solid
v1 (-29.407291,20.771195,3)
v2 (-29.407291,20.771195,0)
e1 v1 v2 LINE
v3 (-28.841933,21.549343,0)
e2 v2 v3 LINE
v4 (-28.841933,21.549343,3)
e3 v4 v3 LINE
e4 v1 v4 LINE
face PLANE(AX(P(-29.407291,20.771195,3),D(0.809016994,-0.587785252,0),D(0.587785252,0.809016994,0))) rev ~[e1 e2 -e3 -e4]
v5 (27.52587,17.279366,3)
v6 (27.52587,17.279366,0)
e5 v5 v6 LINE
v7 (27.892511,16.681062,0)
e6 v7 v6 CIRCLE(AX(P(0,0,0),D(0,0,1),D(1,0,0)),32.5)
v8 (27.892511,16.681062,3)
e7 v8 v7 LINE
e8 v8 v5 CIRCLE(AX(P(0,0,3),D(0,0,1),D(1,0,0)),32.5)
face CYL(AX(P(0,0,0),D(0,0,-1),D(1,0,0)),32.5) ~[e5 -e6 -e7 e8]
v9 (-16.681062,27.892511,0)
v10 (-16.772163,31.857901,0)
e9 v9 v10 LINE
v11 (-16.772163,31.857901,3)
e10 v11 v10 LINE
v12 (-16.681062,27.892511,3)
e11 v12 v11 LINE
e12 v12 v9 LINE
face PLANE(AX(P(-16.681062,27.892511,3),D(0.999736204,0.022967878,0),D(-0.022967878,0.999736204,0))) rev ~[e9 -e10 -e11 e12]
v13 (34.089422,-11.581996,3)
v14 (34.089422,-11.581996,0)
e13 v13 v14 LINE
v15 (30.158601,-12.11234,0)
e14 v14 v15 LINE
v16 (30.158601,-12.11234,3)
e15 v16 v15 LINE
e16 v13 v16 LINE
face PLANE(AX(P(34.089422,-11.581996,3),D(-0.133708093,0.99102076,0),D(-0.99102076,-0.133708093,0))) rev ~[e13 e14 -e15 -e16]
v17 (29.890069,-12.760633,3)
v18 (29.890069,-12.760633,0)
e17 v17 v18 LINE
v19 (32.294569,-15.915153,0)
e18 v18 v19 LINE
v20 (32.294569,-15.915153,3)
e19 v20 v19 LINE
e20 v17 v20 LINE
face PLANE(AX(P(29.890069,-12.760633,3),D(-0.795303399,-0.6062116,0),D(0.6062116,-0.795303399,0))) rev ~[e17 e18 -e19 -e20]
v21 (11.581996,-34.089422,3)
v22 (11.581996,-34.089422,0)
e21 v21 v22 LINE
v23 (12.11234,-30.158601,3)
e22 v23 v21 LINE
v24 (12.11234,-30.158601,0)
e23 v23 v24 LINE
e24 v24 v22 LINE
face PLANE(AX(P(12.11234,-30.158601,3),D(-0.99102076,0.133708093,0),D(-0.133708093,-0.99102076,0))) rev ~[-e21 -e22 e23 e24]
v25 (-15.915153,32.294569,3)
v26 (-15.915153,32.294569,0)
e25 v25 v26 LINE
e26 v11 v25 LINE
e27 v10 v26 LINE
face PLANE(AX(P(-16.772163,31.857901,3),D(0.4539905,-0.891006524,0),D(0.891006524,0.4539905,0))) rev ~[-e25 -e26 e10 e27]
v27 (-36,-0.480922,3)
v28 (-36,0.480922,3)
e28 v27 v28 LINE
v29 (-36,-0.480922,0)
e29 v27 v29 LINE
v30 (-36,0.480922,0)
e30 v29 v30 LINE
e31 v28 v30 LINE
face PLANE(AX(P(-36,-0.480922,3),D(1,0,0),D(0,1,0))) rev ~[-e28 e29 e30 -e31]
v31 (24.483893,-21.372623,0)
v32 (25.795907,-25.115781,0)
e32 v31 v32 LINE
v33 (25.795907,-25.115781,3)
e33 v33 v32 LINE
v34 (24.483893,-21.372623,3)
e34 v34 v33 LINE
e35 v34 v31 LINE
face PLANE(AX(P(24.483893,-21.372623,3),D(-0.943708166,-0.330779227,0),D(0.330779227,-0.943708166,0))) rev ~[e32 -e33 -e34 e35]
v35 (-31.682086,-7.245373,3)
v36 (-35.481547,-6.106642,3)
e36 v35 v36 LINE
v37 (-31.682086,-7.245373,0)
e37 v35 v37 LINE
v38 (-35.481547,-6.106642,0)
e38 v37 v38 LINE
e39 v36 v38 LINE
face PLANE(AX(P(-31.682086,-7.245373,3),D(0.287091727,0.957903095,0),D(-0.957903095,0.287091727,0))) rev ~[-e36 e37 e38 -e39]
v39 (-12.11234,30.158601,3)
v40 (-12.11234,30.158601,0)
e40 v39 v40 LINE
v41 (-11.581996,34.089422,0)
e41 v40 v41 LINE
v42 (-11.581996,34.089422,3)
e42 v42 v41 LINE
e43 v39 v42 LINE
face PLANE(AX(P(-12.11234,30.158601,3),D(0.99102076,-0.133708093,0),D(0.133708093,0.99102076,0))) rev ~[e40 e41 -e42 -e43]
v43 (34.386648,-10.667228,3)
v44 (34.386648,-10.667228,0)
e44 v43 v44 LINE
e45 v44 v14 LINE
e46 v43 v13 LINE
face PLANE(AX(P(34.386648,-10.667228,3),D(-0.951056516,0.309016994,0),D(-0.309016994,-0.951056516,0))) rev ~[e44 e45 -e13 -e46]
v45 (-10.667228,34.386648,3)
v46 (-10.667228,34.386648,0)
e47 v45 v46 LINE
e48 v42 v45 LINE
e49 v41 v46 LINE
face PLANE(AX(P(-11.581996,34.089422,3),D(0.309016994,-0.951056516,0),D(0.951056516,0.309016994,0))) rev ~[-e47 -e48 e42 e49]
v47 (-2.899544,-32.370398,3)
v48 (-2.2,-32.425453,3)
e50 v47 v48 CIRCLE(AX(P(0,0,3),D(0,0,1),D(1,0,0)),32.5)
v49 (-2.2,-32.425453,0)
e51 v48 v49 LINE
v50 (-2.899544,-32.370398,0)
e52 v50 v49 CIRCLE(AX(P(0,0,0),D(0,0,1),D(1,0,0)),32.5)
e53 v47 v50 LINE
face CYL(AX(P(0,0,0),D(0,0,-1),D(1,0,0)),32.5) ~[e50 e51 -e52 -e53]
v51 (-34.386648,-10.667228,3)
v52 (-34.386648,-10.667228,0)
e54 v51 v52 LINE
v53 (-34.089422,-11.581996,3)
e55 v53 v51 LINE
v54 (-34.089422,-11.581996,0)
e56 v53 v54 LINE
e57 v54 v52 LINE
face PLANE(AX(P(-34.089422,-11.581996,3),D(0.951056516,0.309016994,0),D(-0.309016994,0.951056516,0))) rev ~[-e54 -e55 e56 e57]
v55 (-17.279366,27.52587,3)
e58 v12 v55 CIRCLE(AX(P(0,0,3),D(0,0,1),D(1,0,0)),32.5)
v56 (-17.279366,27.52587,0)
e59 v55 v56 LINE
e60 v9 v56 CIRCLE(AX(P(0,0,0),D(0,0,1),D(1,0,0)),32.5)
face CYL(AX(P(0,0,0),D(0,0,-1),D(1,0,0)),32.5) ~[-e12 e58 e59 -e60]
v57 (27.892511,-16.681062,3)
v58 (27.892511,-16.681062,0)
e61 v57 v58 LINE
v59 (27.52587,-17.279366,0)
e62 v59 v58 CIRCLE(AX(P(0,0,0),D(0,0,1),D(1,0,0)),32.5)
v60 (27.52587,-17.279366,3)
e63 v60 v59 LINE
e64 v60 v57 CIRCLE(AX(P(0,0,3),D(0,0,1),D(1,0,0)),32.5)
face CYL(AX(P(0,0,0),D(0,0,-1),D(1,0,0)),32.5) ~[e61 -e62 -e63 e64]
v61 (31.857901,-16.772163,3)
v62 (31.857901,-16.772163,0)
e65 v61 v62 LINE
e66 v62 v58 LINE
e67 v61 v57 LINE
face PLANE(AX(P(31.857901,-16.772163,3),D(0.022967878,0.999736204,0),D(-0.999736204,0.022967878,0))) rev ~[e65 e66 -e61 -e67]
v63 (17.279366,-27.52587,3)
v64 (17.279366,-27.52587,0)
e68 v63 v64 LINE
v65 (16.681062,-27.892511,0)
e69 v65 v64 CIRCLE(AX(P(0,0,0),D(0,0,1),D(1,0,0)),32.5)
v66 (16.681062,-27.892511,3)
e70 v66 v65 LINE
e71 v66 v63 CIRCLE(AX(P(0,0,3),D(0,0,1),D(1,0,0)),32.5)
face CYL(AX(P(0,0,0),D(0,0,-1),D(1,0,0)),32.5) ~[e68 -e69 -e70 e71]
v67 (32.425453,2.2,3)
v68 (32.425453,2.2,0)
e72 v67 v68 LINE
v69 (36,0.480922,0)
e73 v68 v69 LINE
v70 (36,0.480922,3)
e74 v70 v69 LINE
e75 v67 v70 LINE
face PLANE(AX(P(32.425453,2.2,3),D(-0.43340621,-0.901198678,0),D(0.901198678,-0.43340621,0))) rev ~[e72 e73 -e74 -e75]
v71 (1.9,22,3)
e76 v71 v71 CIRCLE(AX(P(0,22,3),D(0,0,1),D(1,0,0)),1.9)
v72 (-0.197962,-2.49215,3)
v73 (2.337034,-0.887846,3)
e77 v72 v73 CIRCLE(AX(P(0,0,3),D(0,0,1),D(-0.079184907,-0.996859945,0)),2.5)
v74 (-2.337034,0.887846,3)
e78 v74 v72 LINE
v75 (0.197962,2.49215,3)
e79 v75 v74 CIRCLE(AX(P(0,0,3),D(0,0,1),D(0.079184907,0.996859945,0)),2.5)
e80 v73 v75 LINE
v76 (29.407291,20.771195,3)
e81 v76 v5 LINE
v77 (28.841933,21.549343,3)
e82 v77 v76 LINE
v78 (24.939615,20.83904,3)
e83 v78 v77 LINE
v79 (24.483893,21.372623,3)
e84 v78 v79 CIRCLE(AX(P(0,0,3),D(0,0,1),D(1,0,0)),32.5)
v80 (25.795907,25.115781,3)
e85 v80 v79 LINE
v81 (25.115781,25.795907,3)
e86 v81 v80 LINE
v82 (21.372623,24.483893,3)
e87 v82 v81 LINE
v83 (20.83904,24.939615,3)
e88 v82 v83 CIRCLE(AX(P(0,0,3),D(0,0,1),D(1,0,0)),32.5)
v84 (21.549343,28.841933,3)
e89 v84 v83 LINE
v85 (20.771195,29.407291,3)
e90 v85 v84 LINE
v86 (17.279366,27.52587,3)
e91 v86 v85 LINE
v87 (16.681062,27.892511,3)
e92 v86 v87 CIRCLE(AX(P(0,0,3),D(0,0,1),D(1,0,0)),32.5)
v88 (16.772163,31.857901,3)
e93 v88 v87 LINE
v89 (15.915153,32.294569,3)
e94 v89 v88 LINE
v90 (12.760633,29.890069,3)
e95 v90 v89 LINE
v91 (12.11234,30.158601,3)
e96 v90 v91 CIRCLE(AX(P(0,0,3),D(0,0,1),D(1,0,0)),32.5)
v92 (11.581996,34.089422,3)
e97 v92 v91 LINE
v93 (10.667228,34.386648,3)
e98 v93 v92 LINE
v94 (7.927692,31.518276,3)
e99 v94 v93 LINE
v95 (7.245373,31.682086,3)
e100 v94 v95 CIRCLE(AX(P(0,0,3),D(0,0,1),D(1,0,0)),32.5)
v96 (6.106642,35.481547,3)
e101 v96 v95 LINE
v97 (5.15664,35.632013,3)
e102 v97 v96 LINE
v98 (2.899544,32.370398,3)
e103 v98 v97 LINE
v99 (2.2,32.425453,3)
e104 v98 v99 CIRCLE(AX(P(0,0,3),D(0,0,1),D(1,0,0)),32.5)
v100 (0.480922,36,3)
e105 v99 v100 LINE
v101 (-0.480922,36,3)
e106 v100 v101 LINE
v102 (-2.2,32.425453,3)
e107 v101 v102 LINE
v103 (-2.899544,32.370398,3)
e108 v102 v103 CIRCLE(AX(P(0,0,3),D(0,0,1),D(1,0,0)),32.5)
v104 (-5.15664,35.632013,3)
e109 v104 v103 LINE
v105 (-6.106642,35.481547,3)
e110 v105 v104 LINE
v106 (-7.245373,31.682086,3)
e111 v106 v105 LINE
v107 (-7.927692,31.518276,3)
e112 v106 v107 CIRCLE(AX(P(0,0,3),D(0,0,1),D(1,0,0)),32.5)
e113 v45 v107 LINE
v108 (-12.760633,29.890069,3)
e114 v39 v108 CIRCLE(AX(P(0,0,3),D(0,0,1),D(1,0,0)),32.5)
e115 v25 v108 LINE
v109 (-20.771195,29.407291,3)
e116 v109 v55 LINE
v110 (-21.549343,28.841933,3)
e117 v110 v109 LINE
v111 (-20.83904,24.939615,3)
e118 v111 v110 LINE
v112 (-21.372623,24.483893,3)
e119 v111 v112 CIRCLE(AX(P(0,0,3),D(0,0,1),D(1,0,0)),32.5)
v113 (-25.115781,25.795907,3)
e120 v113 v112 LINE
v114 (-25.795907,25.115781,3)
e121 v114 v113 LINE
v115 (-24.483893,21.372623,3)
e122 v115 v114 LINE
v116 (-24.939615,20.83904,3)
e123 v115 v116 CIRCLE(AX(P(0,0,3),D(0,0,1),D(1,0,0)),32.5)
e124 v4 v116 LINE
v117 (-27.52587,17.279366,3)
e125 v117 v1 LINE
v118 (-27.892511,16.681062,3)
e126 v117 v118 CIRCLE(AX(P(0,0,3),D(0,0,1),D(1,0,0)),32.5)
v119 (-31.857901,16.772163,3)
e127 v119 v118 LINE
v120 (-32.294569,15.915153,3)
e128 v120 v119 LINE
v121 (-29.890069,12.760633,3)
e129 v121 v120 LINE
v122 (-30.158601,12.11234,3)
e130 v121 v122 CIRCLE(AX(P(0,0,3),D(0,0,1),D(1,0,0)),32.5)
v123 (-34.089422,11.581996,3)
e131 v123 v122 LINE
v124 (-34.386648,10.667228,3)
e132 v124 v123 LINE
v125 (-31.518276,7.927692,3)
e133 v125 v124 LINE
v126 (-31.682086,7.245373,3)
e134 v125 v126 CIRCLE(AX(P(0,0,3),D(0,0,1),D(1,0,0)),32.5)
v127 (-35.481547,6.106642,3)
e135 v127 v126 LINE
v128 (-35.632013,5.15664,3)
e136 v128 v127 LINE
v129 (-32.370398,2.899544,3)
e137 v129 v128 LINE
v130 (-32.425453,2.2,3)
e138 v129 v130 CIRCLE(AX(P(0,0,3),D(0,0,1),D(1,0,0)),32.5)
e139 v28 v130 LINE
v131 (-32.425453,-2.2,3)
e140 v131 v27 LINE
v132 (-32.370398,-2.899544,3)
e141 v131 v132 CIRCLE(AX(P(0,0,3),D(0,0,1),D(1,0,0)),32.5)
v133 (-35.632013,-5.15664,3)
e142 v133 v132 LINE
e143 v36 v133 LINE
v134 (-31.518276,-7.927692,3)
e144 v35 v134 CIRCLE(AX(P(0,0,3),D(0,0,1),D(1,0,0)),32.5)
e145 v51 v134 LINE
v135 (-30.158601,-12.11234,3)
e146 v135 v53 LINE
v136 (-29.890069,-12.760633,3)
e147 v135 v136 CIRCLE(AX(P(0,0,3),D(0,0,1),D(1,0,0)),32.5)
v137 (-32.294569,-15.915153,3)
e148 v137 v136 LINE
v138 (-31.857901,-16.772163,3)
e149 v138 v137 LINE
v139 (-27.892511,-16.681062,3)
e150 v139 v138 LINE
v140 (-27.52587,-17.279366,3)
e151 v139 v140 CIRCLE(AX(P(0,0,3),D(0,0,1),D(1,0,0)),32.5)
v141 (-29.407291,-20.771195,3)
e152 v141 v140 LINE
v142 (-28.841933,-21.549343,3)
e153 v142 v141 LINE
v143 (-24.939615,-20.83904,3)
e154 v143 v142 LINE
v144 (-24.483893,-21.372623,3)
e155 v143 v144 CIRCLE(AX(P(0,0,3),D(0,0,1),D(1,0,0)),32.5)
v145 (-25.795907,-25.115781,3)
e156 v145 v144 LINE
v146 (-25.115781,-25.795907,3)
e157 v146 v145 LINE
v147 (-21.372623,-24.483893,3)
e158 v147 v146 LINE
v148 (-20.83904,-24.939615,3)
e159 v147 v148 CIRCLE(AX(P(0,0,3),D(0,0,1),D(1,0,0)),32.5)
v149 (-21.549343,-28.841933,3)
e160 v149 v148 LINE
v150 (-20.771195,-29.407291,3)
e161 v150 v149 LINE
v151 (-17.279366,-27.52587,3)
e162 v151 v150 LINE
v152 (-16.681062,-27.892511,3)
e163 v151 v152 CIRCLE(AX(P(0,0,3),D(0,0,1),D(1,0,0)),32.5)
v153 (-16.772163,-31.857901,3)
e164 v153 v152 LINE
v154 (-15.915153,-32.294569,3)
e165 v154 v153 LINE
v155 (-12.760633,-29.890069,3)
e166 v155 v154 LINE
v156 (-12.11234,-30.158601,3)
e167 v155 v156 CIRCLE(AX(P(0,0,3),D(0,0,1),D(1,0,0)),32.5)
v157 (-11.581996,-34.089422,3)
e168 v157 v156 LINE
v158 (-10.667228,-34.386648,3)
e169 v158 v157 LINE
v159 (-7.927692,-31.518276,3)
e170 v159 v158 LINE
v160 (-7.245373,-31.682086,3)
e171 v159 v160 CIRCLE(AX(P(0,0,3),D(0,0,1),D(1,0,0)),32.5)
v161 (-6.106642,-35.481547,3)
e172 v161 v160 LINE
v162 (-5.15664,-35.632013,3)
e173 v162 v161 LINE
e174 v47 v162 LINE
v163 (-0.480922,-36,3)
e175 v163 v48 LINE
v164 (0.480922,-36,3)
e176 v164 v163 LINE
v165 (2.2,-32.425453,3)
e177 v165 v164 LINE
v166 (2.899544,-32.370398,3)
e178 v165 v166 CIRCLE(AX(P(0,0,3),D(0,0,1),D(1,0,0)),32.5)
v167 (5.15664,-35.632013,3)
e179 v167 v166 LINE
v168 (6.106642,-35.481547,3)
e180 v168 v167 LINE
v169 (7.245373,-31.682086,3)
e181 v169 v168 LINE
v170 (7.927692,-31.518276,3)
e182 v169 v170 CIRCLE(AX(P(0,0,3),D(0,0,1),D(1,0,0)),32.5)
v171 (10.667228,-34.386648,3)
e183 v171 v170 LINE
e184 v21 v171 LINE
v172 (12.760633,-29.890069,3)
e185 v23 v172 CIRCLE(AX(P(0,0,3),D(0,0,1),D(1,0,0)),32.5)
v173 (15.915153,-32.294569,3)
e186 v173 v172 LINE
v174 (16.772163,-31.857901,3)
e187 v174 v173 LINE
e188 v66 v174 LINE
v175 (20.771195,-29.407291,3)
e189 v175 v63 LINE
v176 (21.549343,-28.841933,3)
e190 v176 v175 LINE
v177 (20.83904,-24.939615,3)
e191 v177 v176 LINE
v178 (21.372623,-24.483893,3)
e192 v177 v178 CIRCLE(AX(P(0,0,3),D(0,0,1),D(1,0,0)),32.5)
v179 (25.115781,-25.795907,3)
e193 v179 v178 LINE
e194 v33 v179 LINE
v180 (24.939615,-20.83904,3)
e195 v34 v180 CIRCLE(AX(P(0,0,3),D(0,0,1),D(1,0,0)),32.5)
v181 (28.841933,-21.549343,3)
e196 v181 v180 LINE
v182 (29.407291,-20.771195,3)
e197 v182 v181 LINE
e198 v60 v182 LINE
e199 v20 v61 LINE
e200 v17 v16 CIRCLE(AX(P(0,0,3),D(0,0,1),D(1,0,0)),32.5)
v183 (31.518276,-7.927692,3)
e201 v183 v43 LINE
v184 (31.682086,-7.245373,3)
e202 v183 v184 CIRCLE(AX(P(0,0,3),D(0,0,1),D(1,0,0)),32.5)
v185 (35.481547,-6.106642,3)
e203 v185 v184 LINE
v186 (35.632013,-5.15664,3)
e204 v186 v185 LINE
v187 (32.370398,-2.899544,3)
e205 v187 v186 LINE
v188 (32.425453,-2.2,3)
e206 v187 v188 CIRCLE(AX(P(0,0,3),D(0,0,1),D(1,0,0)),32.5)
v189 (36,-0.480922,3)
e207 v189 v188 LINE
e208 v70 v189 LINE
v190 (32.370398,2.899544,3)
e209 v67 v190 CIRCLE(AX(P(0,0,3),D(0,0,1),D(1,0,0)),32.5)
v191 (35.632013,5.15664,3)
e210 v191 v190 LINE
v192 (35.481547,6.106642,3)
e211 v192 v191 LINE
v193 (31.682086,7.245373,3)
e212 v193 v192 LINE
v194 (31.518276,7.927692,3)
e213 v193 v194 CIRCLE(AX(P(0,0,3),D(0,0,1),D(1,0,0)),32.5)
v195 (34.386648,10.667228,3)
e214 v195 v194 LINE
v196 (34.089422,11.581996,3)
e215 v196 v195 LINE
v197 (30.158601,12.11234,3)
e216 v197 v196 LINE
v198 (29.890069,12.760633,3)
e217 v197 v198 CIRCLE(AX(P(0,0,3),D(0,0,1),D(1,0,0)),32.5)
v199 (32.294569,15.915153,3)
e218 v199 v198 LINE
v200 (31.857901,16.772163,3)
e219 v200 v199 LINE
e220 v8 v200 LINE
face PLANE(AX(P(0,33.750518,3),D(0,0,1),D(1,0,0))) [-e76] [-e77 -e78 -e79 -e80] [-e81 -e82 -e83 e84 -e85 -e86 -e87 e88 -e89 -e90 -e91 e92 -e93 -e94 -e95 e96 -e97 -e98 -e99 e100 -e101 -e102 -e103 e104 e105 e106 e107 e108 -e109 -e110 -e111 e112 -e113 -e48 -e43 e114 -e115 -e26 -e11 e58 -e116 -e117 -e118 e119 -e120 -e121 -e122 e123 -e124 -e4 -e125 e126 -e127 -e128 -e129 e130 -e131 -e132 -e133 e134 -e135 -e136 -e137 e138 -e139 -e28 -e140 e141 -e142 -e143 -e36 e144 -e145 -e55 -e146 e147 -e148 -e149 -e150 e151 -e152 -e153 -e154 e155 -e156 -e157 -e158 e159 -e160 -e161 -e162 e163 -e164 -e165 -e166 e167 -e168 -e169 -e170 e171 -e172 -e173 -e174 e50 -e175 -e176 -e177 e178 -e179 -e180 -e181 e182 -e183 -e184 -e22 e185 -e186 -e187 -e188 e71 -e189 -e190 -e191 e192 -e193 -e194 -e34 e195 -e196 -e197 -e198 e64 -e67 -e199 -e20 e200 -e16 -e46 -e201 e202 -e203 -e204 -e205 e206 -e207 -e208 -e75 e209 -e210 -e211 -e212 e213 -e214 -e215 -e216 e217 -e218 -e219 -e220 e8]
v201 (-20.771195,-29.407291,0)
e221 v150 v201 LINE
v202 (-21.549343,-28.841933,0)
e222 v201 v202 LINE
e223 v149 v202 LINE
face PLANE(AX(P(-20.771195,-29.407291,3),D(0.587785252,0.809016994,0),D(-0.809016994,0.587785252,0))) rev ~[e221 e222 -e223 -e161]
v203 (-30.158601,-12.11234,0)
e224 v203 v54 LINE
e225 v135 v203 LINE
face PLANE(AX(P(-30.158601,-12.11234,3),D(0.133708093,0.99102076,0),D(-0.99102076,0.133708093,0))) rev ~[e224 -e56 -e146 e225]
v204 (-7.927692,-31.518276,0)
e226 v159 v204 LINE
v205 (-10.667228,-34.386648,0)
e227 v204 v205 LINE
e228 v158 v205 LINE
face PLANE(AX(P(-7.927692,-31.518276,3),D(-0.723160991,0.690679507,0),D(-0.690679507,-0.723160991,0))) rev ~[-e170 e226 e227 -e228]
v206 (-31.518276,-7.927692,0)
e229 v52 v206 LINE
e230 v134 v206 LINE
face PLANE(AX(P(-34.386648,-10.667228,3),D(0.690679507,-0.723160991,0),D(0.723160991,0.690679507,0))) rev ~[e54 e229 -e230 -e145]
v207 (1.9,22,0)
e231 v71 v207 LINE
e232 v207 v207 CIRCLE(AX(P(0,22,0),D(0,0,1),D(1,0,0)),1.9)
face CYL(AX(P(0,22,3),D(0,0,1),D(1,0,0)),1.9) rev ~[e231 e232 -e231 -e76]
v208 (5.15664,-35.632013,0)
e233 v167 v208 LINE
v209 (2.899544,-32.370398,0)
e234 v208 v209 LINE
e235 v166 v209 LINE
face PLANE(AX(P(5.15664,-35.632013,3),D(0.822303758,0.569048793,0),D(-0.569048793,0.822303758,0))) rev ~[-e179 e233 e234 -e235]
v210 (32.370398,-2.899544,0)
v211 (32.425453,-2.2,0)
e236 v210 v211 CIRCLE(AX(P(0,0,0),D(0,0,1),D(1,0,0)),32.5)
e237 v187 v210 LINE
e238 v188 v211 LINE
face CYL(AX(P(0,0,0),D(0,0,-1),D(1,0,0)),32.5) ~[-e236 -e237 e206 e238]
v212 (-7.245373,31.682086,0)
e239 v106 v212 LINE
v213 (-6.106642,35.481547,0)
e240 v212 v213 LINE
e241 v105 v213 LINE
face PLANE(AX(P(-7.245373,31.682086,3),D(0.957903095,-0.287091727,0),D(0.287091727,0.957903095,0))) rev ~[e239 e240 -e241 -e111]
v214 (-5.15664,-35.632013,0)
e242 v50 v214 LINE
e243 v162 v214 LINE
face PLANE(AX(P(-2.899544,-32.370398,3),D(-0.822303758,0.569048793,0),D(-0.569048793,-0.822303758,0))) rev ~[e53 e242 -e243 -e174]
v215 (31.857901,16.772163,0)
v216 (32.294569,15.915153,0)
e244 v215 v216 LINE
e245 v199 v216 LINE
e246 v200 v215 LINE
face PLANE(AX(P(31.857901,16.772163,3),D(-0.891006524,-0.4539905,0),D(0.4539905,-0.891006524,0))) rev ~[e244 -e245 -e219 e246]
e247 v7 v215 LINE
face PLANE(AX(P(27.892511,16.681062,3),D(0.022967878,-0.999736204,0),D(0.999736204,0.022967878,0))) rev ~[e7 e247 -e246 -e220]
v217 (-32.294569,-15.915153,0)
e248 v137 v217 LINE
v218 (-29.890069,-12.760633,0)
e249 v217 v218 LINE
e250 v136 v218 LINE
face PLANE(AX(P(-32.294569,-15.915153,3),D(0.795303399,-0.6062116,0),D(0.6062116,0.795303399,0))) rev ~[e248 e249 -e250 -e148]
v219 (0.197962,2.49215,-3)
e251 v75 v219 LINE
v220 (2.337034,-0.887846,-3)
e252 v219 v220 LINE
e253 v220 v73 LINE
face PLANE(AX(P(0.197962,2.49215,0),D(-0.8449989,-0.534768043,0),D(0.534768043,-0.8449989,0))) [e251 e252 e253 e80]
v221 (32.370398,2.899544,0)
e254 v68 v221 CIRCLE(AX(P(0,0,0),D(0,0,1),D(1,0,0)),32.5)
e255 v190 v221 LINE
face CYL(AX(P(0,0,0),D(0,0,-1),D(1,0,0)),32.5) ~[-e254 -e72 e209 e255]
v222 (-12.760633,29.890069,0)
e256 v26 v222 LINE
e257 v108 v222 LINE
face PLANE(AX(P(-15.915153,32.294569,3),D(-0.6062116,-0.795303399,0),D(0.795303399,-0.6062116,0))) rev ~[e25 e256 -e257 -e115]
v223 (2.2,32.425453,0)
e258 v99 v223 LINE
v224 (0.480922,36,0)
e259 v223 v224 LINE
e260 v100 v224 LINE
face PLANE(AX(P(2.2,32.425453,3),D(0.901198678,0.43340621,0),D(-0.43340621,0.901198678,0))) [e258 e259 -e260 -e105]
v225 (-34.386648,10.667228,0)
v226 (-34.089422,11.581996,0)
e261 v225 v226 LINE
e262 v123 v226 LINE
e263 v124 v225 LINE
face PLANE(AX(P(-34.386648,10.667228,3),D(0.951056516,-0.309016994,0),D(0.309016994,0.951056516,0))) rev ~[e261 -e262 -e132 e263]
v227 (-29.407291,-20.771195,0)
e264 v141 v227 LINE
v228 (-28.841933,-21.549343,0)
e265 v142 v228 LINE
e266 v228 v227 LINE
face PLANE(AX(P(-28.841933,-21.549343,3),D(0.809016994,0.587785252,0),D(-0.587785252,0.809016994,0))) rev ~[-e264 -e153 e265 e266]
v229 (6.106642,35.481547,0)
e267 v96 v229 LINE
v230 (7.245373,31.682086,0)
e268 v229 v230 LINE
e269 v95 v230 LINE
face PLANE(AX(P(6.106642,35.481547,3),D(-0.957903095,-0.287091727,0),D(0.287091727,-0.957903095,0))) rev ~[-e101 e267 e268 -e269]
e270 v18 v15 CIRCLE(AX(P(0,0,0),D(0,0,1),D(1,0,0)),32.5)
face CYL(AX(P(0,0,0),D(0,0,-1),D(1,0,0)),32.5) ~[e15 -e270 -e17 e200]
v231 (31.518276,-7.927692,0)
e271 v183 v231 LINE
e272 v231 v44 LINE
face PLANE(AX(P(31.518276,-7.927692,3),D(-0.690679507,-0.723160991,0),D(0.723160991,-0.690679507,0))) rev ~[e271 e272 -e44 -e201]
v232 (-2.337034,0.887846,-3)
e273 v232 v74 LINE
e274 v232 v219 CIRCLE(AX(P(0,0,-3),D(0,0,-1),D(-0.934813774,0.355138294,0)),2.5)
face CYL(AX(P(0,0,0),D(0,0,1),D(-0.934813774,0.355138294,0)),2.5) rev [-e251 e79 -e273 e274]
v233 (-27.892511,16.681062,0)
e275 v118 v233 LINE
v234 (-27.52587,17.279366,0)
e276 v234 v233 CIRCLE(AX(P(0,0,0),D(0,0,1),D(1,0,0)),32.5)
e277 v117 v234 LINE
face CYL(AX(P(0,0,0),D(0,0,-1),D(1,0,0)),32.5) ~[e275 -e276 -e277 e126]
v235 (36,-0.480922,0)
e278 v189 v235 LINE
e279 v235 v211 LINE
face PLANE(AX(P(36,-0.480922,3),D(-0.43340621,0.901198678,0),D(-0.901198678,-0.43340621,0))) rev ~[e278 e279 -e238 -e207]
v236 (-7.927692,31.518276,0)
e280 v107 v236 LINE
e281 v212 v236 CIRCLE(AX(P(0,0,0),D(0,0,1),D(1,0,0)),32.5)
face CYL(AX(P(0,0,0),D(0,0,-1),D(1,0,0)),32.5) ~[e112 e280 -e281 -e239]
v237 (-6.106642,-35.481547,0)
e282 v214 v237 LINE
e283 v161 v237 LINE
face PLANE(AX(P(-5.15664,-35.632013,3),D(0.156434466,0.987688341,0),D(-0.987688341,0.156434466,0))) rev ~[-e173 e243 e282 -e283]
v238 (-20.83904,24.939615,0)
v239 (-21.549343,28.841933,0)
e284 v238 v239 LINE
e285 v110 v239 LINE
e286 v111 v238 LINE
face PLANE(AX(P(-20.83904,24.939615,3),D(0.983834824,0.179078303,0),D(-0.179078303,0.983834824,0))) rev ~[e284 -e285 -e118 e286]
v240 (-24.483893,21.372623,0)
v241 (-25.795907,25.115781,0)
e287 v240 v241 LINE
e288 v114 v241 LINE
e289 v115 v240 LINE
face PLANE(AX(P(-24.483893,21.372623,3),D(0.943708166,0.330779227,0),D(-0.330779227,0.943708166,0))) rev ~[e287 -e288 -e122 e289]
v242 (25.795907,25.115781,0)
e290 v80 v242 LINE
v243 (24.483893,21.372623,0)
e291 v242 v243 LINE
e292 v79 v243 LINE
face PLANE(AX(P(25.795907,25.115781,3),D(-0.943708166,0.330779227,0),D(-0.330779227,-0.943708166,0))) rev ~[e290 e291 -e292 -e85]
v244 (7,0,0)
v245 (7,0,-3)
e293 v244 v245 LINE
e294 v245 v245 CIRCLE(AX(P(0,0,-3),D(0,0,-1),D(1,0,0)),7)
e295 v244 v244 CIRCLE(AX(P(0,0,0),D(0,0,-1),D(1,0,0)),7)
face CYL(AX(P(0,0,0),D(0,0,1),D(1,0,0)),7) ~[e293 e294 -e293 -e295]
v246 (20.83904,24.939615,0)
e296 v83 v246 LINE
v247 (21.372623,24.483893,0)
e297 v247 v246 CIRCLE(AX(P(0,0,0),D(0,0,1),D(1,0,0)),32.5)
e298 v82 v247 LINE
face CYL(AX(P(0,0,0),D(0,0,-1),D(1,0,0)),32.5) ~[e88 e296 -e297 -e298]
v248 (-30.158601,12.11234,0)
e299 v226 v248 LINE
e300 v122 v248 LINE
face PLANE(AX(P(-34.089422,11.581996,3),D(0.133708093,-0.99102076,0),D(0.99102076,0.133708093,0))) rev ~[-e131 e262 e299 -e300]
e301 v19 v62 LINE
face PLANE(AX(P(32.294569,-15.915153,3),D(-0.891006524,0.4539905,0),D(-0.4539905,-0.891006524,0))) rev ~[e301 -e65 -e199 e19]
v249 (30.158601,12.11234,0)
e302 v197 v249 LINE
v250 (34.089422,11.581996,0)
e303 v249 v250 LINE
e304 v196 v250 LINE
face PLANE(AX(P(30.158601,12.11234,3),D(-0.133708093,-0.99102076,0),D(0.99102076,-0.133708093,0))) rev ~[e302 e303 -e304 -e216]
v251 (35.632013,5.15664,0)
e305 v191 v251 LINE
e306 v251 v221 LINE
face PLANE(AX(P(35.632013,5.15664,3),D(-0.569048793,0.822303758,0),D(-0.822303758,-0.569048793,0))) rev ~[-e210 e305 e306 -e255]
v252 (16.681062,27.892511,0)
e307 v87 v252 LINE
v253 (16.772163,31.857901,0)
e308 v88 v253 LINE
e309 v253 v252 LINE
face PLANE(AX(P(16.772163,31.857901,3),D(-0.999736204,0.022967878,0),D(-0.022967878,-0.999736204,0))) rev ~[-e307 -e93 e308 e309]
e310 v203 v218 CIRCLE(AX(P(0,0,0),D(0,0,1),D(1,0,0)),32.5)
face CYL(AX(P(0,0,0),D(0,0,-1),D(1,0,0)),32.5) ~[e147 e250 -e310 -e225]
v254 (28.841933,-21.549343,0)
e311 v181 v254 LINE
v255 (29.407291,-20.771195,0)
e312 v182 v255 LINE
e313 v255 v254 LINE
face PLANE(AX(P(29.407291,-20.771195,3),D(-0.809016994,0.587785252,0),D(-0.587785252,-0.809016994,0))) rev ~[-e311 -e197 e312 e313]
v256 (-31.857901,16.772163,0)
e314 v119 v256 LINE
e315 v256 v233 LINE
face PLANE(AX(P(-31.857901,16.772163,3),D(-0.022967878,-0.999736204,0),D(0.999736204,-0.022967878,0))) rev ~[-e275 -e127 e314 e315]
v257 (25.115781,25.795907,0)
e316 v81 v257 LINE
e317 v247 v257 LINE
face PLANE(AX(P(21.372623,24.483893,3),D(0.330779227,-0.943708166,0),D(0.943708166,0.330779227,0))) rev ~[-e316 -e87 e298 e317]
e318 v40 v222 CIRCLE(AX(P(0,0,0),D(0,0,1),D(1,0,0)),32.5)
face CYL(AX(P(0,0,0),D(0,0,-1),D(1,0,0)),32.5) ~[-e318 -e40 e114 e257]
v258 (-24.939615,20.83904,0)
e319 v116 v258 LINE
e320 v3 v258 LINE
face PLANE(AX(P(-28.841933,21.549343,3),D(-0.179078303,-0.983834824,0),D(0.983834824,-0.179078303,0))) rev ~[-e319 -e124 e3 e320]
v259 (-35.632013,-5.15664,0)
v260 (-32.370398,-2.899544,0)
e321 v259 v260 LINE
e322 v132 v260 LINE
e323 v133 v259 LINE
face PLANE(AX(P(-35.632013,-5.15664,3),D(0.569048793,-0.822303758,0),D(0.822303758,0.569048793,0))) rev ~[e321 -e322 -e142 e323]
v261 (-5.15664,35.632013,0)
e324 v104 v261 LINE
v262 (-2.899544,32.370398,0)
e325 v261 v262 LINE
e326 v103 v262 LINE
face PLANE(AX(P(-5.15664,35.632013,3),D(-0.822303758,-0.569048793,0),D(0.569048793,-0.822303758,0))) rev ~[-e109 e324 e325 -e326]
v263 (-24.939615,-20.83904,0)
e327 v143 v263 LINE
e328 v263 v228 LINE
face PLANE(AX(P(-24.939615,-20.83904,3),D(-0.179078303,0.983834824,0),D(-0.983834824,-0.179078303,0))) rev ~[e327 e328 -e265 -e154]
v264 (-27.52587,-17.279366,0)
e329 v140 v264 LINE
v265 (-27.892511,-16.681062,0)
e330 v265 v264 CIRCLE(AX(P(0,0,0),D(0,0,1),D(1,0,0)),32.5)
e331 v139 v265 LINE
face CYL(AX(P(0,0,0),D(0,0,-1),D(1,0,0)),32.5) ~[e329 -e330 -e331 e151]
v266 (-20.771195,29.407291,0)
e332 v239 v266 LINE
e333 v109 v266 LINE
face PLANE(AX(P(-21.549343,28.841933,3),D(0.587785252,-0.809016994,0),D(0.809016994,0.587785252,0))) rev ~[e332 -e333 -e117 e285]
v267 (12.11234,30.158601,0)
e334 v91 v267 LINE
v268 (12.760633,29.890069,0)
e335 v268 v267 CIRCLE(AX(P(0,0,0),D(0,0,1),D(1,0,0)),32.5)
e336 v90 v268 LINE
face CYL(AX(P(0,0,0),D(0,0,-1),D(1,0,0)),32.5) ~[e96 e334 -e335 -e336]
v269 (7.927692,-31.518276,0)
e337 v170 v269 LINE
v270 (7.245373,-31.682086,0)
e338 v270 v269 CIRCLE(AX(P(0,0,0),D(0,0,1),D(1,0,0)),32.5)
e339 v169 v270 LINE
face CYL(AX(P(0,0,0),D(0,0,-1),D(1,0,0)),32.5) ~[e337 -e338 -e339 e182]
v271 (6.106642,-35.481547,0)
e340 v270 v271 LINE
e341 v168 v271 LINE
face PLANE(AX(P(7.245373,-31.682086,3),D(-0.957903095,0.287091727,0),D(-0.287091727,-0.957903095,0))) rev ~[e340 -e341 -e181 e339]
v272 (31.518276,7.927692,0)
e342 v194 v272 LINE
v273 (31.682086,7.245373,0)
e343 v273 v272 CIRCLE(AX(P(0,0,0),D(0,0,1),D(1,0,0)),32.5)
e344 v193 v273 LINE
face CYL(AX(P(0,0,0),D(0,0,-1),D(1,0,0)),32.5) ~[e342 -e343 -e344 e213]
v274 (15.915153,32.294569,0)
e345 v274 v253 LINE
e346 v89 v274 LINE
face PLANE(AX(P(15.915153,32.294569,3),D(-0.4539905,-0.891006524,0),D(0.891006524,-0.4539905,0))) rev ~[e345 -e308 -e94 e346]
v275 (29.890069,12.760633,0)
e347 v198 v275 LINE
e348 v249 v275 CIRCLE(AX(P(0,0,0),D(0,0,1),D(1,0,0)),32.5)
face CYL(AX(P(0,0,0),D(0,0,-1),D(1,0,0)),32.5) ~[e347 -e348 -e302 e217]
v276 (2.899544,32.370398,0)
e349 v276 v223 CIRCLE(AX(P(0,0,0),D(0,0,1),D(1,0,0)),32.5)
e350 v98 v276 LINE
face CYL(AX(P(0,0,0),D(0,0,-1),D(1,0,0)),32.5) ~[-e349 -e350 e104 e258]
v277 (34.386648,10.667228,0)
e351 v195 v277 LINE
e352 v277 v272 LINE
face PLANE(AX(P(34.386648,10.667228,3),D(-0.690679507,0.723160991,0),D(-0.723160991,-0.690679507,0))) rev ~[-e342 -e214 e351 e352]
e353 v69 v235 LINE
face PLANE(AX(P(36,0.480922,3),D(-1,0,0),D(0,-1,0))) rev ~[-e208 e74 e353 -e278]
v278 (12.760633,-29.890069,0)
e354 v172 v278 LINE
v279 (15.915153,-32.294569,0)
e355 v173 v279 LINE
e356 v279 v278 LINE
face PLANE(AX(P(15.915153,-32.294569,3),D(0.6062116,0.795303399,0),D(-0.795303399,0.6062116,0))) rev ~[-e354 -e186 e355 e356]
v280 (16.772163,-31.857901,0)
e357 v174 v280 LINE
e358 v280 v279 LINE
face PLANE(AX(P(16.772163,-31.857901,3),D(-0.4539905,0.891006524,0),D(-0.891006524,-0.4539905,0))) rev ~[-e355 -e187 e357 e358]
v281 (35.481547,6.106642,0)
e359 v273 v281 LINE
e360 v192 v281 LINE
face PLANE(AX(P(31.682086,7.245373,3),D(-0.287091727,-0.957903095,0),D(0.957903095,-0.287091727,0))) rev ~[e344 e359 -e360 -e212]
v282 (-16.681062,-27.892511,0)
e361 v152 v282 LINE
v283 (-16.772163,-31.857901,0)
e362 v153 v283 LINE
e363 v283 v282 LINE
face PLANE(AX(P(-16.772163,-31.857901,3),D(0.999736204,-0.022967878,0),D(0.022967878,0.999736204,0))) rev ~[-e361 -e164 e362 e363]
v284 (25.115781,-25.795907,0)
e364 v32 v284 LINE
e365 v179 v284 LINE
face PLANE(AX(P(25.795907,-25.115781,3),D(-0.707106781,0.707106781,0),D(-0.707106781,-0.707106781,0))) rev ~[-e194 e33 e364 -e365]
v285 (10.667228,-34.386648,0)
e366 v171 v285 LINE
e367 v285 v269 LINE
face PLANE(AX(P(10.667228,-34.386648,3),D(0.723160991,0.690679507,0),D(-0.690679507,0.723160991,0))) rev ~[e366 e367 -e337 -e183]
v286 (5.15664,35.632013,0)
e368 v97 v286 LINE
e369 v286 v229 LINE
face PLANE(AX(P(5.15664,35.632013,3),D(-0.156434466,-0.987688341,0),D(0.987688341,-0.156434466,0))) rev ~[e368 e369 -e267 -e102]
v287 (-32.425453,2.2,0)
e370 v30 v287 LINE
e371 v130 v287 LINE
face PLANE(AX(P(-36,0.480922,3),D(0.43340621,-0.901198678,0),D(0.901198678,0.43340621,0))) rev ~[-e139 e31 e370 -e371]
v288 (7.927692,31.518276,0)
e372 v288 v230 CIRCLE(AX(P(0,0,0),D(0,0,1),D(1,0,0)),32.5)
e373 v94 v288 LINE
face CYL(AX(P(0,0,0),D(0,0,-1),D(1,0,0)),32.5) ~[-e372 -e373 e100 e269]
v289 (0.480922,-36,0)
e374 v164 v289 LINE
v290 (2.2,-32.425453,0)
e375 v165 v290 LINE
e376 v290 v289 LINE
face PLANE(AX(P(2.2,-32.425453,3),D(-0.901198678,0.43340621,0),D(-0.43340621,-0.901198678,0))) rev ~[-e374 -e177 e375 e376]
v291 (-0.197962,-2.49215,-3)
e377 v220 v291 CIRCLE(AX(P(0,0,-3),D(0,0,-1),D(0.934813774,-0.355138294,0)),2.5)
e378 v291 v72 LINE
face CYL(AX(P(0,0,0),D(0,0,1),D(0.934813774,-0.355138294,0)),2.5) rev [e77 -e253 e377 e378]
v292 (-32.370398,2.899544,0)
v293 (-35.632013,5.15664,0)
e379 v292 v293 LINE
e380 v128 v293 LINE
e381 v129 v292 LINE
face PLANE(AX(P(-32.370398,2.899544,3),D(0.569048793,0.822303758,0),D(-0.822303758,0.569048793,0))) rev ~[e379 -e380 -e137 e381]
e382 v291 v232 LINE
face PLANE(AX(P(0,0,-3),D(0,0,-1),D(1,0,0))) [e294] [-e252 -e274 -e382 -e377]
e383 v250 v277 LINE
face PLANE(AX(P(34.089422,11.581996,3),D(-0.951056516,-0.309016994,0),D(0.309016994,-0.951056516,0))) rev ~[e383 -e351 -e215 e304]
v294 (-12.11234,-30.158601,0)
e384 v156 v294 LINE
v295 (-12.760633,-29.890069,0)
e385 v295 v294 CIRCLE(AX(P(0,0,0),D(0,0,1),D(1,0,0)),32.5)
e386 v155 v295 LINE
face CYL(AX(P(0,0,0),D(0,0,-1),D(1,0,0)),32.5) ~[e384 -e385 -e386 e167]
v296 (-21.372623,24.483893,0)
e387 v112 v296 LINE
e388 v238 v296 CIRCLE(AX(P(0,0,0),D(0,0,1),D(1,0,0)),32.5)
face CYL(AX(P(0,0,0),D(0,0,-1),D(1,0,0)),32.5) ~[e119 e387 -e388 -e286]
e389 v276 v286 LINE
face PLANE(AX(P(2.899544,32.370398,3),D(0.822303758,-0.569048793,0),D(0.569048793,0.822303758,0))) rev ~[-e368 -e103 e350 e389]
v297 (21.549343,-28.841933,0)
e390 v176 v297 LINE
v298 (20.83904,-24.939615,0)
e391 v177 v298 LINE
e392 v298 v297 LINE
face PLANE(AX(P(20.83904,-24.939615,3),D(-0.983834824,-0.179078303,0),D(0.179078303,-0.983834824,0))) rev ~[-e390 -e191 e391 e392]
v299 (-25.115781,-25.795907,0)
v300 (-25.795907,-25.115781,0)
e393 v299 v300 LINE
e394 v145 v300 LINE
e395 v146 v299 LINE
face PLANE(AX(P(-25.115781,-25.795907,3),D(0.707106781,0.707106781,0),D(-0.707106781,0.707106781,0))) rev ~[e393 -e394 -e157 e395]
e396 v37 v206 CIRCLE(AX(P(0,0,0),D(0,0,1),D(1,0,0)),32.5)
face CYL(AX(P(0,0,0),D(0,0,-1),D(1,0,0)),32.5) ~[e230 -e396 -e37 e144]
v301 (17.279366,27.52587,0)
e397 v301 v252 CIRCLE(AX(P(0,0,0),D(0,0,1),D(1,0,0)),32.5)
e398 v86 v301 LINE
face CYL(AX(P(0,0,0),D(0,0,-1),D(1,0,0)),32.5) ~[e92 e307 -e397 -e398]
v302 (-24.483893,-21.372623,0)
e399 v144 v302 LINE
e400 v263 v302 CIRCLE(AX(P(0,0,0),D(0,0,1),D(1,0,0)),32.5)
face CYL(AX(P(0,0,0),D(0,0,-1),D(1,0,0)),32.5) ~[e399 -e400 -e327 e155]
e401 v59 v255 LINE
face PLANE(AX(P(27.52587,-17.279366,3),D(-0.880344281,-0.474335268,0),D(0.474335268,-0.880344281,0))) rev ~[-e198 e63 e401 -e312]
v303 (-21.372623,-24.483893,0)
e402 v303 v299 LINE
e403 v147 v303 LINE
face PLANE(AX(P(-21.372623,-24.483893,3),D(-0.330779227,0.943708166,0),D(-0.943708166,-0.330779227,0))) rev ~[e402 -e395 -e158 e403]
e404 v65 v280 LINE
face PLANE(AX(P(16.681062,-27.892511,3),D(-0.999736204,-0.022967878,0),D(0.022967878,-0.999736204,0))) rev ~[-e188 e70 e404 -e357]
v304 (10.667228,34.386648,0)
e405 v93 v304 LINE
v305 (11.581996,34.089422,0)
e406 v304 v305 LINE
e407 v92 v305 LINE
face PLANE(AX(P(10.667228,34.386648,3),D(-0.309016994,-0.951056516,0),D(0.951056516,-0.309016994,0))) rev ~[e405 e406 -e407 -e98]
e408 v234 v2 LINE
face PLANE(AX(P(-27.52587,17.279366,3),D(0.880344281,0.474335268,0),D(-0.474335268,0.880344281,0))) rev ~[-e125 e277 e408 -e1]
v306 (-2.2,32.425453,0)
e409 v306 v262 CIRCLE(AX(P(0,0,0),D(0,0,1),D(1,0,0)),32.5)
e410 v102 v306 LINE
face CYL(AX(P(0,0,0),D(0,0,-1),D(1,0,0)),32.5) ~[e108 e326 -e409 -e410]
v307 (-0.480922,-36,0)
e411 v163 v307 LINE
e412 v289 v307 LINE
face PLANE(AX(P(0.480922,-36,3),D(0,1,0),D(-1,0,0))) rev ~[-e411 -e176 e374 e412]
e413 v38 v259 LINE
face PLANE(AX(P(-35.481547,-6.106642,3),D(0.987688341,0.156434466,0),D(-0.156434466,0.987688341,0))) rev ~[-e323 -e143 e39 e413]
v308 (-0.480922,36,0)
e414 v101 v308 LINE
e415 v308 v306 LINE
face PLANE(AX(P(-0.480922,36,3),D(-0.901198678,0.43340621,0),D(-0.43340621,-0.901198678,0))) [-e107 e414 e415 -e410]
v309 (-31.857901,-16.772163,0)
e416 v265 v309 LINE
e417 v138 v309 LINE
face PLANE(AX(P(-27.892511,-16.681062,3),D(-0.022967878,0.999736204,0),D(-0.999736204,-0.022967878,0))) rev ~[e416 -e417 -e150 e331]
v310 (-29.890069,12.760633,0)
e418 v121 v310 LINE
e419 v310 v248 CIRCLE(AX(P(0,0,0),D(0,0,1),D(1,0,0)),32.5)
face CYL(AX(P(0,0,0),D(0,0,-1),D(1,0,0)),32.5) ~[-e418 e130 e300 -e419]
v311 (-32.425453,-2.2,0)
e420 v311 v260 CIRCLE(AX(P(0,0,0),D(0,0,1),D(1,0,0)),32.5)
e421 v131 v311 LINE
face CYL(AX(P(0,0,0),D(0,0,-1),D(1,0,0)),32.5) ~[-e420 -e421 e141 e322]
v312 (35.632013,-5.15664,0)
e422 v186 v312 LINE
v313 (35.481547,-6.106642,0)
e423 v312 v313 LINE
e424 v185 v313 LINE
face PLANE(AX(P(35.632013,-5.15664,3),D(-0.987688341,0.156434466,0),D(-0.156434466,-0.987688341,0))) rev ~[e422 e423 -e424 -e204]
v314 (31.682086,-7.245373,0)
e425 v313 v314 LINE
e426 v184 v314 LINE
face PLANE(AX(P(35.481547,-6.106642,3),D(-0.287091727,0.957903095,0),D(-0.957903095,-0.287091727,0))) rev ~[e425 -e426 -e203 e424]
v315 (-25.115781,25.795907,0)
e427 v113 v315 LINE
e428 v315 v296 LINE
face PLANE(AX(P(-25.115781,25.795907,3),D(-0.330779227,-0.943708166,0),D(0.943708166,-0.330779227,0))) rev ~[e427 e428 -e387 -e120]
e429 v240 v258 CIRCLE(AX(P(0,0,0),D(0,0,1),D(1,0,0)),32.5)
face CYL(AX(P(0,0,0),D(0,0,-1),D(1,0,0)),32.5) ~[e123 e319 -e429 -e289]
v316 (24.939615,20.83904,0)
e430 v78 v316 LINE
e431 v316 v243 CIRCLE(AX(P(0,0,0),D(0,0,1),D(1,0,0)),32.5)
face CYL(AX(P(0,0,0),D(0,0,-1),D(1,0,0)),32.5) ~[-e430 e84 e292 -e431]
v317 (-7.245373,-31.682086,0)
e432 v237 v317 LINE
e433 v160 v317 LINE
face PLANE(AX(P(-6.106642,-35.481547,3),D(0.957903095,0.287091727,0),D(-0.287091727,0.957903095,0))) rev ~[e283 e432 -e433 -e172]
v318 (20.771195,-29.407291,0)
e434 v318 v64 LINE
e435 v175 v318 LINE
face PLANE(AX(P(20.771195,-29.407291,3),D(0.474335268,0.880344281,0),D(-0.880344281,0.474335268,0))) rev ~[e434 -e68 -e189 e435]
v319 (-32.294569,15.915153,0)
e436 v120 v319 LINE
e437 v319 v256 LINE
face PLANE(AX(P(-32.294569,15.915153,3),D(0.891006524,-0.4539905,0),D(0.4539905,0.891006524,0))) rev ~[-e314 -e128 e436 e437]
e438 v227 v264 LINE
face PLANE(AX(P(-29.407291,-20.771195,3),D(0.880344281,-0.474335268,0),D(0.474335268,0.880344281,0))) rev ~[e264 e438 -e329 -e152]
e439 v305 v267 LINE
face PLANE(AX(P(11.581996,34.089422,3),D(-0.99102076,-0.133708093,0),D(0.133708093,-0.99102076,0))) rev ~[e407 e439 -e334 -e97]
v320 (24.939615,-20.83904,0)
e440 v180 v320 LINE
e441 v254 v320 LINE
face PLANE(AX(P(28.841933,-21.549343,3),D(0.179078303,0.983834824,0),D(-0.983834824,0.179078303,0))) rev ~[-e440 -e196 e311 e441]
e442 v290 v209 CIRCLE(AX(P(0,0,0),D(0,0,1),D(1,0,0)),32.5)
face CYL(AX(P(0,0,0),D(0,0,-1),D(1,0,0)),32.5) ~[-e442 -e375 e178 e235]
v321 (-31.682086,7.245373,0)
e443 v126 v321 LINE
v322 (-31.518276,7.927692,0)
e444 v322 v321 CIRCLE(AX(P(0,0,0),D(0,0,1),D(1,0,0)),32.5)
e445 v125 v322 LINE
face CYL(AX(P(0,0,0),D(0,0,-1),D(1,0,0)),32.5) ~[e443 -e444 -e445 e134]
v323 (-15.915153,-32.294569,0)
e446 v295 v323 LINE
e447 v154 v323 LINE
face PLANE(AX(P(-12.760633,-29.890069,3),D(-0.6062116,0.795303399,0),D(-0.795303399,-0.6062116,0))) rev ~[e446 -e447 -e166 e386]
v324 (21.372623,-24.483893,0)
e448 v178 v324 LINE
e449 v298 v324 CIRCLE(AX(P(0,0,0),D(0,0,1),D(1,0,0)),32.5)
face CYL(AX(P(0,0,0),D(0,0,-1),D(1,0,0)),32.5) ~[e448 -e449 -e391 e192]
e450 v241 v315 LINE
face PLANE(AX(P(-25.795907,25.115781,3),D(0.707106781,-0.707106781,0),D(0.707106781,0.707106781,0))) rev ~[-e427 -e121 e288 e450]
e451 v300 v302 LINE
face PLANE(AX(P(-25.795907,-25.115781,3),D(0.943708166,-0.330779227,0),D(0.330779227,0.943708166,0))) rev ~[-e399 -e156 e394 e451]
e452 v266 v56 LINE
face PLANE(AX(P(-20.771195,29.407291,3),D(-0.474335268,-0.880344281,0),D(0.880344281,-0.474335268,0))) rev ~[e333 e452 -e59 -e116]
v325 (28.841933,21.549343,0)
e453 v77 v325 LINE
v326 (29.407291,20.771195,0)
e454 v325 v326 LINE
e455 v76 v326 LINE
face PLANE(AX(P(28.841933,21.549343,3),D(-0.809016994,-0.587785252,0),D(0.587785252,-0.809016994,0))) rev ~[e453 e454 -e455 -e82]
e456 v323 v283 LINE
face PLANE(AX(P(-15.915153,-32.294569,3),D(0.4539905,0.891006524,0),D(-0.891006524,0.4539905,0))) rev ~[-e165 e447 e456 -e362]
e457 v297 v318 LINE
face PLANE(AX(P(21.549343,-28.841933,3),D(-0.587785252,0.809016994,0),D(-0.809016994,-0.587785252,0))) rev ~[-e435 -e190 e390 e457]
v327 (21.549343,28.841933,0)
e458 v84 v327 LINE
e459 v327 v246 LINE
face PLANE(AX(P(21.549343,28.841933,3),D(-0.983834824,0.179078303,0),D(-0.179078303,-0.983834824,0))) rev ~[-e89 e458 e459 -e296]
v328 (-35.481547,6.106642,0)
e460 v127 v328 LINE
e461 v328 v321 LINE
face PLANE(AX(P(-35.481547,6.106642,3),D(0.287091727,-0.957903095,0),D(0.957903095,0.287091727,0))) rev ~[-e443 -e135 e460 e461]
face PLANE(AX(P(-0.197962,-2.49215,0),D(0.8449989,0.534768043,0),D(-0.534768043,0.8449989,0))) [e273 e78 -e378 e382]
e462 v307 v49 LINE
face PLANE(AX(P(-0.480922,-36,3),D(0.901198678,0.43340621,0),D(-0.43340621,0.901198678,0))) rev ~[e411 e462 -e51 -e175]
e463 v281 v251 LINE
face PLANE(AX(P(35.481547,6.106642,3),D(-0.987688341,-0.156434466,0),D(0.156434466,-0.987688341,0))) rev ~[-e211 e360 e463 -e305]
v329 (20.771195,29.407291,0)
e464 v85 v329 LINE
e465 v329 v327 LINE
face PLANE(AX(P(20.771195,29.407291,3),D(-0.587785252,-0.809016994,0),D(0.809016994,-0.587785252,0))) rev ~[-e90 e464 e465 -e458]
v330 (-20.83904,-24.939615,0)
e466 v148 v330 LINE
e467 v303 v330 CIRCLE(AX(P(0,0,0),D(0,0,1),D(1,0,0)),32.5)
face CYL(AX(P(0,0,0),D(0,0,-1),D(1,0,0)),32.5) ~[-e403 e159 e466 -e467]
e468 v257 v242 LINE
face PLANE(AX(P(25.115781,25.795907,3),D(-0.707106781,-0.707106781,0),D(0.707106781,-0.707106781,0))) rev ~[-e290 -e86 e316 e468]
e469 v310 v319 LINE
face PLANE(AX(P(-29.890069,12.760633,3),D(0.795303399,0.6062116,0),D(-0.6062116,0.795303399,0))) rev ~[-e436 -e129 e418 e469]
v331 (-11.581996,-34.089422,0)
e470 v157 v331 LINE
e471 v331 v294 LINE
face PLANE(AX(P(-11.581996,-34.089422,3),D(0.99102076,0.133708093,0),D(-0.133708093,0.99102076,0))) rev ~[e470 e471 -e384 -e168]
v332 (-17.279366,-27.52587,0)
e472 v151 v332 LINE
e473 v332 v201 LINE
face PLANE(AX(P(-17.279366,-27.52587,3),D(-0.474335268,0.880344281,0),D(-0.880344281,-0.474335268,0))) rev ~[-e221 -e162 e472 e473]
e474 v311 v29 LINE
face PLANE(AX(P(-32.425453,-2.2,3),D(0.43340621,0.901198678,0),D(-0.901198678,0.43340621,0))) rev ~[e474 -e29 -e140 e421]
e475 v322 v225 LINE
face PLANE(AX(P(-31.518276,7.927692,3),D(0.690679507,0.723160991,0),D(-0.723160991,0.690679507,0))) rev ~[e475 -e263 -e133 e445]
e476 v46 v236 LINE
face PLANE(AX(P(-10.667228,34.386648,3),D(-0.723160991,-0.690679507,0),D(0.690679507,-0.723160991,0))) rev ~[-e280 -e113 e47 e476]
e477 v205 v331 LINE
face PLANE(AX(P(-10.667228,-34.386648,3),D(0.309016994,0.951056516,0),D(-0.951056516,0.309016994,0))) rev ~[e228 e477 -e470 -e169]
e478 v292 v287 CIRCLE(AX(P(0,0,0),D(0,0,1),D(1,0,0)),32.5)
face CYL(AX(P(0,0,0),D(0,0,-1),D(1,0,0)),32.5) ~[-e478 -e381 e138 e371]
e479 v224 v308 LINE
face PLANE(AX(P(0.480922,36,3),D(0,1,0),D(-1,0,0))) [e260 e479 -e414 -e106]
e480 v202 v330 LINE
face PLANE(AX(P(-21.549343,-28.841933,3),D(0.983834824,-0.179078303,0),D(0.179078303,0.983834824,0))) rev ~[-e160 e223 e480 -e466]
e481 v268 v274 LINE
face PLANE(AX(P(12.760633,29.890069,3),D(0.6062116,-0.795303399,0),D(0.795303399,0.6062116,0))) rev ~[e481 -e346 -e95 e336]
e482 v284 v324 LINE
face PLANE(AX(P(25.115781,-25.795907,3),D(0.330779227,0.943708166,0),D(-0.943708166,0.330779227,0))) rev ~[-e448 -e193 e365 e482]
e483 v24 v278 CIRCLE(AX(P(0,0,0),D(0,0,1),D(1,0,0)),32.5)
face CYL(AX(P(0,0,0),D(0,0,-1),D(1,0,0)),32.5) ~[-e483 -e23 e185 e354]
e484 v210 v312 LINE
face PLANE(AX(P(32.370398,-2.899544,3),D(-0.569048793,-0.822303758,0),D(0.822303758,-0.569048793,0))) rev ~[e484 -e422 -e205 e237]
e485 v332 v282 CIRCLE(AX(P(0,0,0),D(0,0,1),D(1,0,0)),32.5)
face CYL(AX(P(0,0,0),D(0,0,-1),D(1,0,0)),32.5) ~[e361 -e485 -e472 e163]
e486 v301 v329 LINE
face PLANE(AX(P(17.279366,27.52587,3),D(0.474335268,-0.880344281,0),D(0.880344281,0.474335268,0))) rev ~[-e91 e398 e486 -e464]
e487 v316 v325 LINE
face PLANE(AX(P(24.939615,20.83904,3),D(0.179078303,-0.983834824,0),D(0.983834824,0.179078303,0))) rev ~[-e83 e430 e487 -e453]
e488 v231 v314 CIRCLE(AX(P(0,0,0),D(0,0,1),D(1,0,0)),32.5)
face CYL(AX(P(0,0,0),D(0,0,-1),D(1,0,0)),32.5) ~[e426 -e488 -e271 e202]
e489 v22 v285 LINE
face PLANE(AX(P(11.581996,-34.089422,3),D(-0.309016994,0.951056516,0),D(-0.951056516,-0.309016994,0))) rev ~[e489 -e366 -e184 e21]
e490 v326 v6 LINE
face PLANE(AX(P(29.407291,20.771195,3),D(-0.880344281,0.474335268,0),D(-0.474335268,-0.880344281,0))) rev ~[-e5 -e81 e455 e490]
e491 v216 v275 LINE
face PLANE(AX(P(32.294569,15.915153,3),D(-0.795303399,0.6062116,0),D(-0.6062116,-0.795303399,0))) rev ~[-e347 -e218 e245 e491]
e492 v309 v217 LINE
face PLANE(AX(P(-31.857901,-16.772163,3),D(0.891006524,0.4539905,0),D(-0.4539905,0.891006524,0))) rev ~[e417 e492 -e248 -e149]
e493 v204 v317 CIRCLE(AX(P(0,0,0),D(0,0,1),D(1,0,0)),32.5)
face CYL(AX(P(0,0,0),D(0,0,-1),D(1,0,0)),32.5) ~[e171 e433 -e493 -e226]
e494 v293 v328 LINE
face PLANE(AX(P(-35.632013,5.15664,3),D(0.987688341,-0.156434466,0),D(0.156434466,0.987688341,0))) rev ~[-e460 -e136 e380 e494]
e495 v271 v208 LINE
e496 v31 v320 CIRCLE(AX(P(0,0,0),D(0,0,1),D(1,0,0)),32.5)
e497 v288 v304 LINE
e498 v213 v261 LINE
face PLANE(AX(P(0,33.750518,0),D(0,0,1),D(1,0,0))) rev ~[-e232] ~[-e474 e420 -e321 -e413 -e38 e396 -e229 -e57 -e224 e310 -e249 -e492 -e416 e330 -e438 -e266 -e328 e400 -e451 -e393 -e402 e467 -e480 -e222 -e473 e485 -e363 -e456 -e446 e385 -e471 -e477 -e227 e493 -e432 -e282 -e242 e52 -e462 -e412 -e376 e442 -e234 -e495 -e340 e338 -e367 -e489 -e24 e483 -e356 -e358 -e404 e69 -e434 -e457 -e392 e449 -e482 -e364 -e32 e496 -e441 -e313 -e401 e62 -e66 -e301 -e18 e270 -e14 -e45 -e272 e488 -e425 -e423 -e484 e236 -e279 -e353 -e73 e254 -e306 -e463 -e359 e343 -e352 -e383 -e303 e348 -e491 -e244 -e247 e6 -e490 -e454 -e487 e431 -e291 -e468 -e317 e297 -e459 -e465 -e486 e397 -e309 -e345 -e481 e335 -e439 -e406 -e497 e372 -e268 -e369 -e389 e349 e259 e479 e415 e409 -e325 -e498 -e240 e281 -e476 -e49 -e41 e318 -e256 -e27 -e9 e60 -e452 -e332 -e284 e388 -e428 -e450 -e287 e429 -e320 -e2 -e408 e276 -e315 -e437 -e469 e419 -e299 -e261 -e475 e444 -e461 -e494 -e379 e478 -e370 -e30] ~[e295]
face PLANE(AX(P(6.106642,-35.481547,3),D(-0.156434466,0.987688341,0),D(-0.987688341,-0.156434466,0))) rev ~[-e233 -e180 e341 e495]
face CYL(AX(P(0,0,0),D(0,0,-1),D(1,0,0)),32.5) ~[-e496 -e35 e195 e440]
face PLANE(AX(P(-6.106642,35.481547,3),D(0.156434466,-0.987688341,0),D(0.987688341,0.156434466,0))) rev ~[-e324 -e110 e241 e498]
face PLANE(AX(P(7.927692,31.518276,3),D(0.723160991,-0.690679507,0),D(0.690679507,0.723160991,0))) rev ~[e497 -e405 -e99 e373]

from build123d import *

# Parameters (mm, degrees)
SKETCH1_R           = 32.5
BOSS_EXTRUDE1_DEPTH = 3
BOSS_EXTRUDE6_DEPTH = 3
CUT_EXTRUDE1_DEPTH  = 3
SKETCH5_R           = 7
BOSS_EXTRUDE7_DEPTH = 3
SKETCH7_R           = 1.9
CUT_EXTRUDE2_DEPTH  = 3


with BuildPart() as part:
    # Sketch1 → Boss-Extrude1 (new body)
    with BuildSketch(Plane.XY):
        Circle(SKETCH1_R)
    extrude(amount=BOSS_EXTRUDE1_DEPTH)

    # Sketch2 → Boss-Extrude6 (add)
    with BuildSketch(Plane.XY.offset(3)):
        Polygon((-0.480921932, 36), (-2.2, 32.425452965), (2.2, 32.425452965), (0.480921932, 36), align=None)
        Polygon((6.106641727, 35.481547496), (7.245372738, 31.682086009), (2.899544039, 32.370397655), (5.156639756, 35.632013027), align=None)
        Polygon((11.581995735, 34.089421537), (12.112340352, 30.158600949), (7.927691681, 31.518275724), (10.66722786, 34.386647637), align=None)
        Polygon((16.77216257, 31.857900882), (16.681061949, 27.892511042), (12.760633243, 29.890069241), (15.915153411, 32.294568859), align=None)
        Polygon((21.549343099, 28.841932978), (20.839040439, 24.939614944), (17.279365664, 27.525870054), (20.771195066, 29.407290617), align=None)
        Polygon((25.795907282, 25.115780963), (24.483892593, 21.372622756), (21.372622756, 24.483892593), (25.115780963, 25.795907282), align=None)
        Polygon((29.407290617, 20.771195066), (27.525870054, 17.279365664), (24.939614944, 20.83904044), (28.841932978, 21.549343099), align=None)
        Polygon((32.294568859, 15.915153411), (29.890069241, 12.760633243), (27.892511042, 16.681061949), (31.857900882, 16.77216257), align=None)
        Polygon((34.386647637, 10.66722786), (31.518275724, 7.927691681), (30.158600949, 12.112340352), (34.089421537, 11.581995735), align=None)
        Polygon((35.632013027, 5.156639756), (32.370397655, 2.899544039), (31.682086009, 7.245372738), (35.481547496, 6.106641727), align=None)
        Polygon((36, -0.480921932), (32.425452965, -2.2), (32.425452965, 2.2), (36, 0.480921932), align=None)
        Polygon((35.481547496, -6.106641727), (31.682086009, -7.245372738), (32.370397655, -2.899544039), (35.632013027, -5.156639756), align=None)
        Polygon((34.089421537, -11.581995735), (30.158600949, -12.112340352), (31.518275724, -7.927691681), (34.386647637, -10.66722786), align=None)
        Polygon((31.857900882, -16.77216257), (27.892511042, -16.681061949), (29.890069241, -12.760633243), (32.294568859, -15.915153411), align=None)
        Polygon((28.841932978, -21.549343099), (24.939614944, -20.839040439), (27.525870054, -17.279365664), (29.407290617, -20.771195066), align=None)
        Polygon((25.115780963, -25.795907282), (21.372622756, -24.483892593), (24.483892593, -21.372622756), (25.795907282, -25.115780963), align=None)
        Polygon((20.771195066, -29.407290617), (17.279365664, -27.525870054), (20.83904044, -24.939614944), (21.549343099, -28.841932978), align=None)
        Polygon((15.915153411, -32.294568859), (12.760633243, -29.890069241), (16.681061949, -27.892511042), (16.77216257, -31.857900882), align=None)
        Polygon((10.66722786, -34.386647637), (7.927691681, -31.518275724), (12.112340352, -30.158600949), (11.581995735, -34.089421537), align=None)
        Polygon((5.156639756, -35.632013027), (2.899544039, -32.370397655), (7.245372738, -31.682086009), (6.106641727, -35.481547496), align=None)
        Polygon((-0.480921932, -36), (-2.2, -32.425452965), (2.2, -32.425452965), (0.480921932, -36), align=None)
        Polygon((-6.106641727, -35.481547496), (-7.245372738, -31.682086009), (-2.899544039, -32.370397655), (-5.156639756, -35.632013027), align=None)
        Polygon((-11.581995735, -34.089421537), (-12.112340352, -30.158600949), (-7.927691681, -31.518275724), (-10.66722786, -34.386647637), align=None)
        Polygon((-16.77216257, -31.857900882), (-16.681061949, -27.892511042), (-12.760633243, -29.890069241), (-15.915153411, -32.294568859), align=None)
        Polygon((-21.549343099, -28.841932978), (-20.839040439, -24.939614944), (-17.279365664, -27.525870054), (-20.771195066, -29.407290617), align=None)
        Polygon((-25.795907282, -25.115780963), (-24.483892593, -21.372622756), (-21.372622756, -24.483892593), (-25.115780963, -25.795907282), align=None)
        Polygon((-29.407290617, -20.771195066), (-27.525870054, -17.279365664), (-24.939614944, -20.83904044), (-28.841932978, -21.549343099), align=None)
        Polygon((-32.294568859, -15.915153411), (-29.890069241, -12.760633243), (-27.892511042, -16.681061949), (-31.857900882, -16.77216257), align=None)
        Polygon((-34.386647637, -10.66722786), (-31.518275724, -7.927691681), (-30.158600949, -12.112340352), (-34.089421537, -11.581995735), align=None)
        Polygon((-35.632013027, -5.156639756), (-32.370397655, -2.899544039), (-31.682086009, -7.245372738), (-35.481547496, -6.106641727), align=None)
        Polygon((-36, 0.480921932), (-32.425452965, 2.2), (-32.425452965, -2.2), (-36, -0.480921932), align=None)
        Polygon((-35.481547496, 6.106641727), (-31.682086009, 7.245372738), (-32.370397655, 2.899544039), (-35.632013027, 5.156639756), align=None)
        Polygon((-34.089421537, 11.581995735), (-30.158600949, 12.112340352), (-31.518275724, 7.927691681), (-34.386647637, 10.66722786), align=None)
        Polygon((-31.857900882, 16.77216257), (-27.892511042, 16.681061949), (-29.890069241, 12.760633243), (-32.294568859, 15.915153411), align=None)
        Polygon((-28.841932978, 21.549343099), (-24.939614944, 20.839040439), (-27.525870054, 17.279365664), (-29.407290617, 20.771195066), align=None)
        Polygon((-25.115780963, 25.795907282), (-21.372622756, 24.483892593), (-24.483892593, 21.372622756), (-25.795907282, 25.115780963), align=None)
        Polygon((-20.771195066, 29.407290617), (-17.279365664, 27.525870054), (-20.839040439, 24.939614944), (-21.549343099, 28.841932978), align=None)
        Polygon((-15.915153411, 32.294568859), (-12.760633243, 29.890069241), (-16.681061949, 27.892511042), (-16.77216257, 31.857900882), align=None)
        Polygon((-10.66722786, 34.386647637), (-7.927691681, 31.518275724), (-12.112340352, 30.158600949), (-11.581995735, 34.089421537), align=None)
        Polygon((-5.156639756, 35.632013027), (-2.899544039, 32.370397655), (-7.245372738, 31.682086009), (-6.106641727, 35.481547496), align=None)
    extrude(amount=-BOSS_EXTRUDE6_DEPTH)

    # Sketch3 → Cut-Extrude1 (cut)
    with BuildSketch(Plane.XY.offset(3)):
        with BuildLine():
            Line((-2.337034435, 0.887845736), (-0.197962265, -2.492149863))
            ThreePointArc((-0.197962265, -2.492149863), (1.336920106, -2.11249725), (2.337034435, -0.887845736))
            Line((2.337034435, -0.887845736), (0.197962265, 2.492149863))
            ThreePointArc((0.197962265, 2.492149863), (-1.336920106, 2.11249725), (-2.337034435, 0.887845736))
        make_face()
    extrude(amount=-CUT_EXTRUDE1_DEPTH, mode=Mode.SUBTRACT)

    # Sketch5 → Boss-Extrude7 (add)
    with BuildSketch(Plane(origin=(0, 0, 0), x_dir=(-1, 0, 0), z_dir=(0, 0, -1))):
        with Locations(Location((0, 0, 0), (0, 0, 180))):
            Circle(SKETCH5_R)
        with BuildLine():
            Line((-0.197962265, 2.492149863), (-2.337034435, -0.887845736))
            ThreePointArc((-2.337034435, -0.887845736), (-1.336920106, -2.11249725), (0.197962265, -2.492149863))
            Line((0.197962265, -2.492149863), (2.337034435, 0.887845736))
            ThreePointArc((2.337034435, 0.887845736), (1.336920106, 2.11249725), (-0.197962265, 2.492149863))
        make_face(mode=Mode.SUBTRACT)
    extrude(amount=BOSS_EXTRUDE7_DEPTH)

    # Sketch7 → Cut-Extrude2 (cut)
    with BuildSketch(Plane.XY.offset(3)):
        with Locations((0, 22)):
            Circle(SKETCH7_R)
    extrude(amount=-CUT_EXTRUDE2_DEPTH, mode=Mode.SUBTRACT)


solid = part.part
